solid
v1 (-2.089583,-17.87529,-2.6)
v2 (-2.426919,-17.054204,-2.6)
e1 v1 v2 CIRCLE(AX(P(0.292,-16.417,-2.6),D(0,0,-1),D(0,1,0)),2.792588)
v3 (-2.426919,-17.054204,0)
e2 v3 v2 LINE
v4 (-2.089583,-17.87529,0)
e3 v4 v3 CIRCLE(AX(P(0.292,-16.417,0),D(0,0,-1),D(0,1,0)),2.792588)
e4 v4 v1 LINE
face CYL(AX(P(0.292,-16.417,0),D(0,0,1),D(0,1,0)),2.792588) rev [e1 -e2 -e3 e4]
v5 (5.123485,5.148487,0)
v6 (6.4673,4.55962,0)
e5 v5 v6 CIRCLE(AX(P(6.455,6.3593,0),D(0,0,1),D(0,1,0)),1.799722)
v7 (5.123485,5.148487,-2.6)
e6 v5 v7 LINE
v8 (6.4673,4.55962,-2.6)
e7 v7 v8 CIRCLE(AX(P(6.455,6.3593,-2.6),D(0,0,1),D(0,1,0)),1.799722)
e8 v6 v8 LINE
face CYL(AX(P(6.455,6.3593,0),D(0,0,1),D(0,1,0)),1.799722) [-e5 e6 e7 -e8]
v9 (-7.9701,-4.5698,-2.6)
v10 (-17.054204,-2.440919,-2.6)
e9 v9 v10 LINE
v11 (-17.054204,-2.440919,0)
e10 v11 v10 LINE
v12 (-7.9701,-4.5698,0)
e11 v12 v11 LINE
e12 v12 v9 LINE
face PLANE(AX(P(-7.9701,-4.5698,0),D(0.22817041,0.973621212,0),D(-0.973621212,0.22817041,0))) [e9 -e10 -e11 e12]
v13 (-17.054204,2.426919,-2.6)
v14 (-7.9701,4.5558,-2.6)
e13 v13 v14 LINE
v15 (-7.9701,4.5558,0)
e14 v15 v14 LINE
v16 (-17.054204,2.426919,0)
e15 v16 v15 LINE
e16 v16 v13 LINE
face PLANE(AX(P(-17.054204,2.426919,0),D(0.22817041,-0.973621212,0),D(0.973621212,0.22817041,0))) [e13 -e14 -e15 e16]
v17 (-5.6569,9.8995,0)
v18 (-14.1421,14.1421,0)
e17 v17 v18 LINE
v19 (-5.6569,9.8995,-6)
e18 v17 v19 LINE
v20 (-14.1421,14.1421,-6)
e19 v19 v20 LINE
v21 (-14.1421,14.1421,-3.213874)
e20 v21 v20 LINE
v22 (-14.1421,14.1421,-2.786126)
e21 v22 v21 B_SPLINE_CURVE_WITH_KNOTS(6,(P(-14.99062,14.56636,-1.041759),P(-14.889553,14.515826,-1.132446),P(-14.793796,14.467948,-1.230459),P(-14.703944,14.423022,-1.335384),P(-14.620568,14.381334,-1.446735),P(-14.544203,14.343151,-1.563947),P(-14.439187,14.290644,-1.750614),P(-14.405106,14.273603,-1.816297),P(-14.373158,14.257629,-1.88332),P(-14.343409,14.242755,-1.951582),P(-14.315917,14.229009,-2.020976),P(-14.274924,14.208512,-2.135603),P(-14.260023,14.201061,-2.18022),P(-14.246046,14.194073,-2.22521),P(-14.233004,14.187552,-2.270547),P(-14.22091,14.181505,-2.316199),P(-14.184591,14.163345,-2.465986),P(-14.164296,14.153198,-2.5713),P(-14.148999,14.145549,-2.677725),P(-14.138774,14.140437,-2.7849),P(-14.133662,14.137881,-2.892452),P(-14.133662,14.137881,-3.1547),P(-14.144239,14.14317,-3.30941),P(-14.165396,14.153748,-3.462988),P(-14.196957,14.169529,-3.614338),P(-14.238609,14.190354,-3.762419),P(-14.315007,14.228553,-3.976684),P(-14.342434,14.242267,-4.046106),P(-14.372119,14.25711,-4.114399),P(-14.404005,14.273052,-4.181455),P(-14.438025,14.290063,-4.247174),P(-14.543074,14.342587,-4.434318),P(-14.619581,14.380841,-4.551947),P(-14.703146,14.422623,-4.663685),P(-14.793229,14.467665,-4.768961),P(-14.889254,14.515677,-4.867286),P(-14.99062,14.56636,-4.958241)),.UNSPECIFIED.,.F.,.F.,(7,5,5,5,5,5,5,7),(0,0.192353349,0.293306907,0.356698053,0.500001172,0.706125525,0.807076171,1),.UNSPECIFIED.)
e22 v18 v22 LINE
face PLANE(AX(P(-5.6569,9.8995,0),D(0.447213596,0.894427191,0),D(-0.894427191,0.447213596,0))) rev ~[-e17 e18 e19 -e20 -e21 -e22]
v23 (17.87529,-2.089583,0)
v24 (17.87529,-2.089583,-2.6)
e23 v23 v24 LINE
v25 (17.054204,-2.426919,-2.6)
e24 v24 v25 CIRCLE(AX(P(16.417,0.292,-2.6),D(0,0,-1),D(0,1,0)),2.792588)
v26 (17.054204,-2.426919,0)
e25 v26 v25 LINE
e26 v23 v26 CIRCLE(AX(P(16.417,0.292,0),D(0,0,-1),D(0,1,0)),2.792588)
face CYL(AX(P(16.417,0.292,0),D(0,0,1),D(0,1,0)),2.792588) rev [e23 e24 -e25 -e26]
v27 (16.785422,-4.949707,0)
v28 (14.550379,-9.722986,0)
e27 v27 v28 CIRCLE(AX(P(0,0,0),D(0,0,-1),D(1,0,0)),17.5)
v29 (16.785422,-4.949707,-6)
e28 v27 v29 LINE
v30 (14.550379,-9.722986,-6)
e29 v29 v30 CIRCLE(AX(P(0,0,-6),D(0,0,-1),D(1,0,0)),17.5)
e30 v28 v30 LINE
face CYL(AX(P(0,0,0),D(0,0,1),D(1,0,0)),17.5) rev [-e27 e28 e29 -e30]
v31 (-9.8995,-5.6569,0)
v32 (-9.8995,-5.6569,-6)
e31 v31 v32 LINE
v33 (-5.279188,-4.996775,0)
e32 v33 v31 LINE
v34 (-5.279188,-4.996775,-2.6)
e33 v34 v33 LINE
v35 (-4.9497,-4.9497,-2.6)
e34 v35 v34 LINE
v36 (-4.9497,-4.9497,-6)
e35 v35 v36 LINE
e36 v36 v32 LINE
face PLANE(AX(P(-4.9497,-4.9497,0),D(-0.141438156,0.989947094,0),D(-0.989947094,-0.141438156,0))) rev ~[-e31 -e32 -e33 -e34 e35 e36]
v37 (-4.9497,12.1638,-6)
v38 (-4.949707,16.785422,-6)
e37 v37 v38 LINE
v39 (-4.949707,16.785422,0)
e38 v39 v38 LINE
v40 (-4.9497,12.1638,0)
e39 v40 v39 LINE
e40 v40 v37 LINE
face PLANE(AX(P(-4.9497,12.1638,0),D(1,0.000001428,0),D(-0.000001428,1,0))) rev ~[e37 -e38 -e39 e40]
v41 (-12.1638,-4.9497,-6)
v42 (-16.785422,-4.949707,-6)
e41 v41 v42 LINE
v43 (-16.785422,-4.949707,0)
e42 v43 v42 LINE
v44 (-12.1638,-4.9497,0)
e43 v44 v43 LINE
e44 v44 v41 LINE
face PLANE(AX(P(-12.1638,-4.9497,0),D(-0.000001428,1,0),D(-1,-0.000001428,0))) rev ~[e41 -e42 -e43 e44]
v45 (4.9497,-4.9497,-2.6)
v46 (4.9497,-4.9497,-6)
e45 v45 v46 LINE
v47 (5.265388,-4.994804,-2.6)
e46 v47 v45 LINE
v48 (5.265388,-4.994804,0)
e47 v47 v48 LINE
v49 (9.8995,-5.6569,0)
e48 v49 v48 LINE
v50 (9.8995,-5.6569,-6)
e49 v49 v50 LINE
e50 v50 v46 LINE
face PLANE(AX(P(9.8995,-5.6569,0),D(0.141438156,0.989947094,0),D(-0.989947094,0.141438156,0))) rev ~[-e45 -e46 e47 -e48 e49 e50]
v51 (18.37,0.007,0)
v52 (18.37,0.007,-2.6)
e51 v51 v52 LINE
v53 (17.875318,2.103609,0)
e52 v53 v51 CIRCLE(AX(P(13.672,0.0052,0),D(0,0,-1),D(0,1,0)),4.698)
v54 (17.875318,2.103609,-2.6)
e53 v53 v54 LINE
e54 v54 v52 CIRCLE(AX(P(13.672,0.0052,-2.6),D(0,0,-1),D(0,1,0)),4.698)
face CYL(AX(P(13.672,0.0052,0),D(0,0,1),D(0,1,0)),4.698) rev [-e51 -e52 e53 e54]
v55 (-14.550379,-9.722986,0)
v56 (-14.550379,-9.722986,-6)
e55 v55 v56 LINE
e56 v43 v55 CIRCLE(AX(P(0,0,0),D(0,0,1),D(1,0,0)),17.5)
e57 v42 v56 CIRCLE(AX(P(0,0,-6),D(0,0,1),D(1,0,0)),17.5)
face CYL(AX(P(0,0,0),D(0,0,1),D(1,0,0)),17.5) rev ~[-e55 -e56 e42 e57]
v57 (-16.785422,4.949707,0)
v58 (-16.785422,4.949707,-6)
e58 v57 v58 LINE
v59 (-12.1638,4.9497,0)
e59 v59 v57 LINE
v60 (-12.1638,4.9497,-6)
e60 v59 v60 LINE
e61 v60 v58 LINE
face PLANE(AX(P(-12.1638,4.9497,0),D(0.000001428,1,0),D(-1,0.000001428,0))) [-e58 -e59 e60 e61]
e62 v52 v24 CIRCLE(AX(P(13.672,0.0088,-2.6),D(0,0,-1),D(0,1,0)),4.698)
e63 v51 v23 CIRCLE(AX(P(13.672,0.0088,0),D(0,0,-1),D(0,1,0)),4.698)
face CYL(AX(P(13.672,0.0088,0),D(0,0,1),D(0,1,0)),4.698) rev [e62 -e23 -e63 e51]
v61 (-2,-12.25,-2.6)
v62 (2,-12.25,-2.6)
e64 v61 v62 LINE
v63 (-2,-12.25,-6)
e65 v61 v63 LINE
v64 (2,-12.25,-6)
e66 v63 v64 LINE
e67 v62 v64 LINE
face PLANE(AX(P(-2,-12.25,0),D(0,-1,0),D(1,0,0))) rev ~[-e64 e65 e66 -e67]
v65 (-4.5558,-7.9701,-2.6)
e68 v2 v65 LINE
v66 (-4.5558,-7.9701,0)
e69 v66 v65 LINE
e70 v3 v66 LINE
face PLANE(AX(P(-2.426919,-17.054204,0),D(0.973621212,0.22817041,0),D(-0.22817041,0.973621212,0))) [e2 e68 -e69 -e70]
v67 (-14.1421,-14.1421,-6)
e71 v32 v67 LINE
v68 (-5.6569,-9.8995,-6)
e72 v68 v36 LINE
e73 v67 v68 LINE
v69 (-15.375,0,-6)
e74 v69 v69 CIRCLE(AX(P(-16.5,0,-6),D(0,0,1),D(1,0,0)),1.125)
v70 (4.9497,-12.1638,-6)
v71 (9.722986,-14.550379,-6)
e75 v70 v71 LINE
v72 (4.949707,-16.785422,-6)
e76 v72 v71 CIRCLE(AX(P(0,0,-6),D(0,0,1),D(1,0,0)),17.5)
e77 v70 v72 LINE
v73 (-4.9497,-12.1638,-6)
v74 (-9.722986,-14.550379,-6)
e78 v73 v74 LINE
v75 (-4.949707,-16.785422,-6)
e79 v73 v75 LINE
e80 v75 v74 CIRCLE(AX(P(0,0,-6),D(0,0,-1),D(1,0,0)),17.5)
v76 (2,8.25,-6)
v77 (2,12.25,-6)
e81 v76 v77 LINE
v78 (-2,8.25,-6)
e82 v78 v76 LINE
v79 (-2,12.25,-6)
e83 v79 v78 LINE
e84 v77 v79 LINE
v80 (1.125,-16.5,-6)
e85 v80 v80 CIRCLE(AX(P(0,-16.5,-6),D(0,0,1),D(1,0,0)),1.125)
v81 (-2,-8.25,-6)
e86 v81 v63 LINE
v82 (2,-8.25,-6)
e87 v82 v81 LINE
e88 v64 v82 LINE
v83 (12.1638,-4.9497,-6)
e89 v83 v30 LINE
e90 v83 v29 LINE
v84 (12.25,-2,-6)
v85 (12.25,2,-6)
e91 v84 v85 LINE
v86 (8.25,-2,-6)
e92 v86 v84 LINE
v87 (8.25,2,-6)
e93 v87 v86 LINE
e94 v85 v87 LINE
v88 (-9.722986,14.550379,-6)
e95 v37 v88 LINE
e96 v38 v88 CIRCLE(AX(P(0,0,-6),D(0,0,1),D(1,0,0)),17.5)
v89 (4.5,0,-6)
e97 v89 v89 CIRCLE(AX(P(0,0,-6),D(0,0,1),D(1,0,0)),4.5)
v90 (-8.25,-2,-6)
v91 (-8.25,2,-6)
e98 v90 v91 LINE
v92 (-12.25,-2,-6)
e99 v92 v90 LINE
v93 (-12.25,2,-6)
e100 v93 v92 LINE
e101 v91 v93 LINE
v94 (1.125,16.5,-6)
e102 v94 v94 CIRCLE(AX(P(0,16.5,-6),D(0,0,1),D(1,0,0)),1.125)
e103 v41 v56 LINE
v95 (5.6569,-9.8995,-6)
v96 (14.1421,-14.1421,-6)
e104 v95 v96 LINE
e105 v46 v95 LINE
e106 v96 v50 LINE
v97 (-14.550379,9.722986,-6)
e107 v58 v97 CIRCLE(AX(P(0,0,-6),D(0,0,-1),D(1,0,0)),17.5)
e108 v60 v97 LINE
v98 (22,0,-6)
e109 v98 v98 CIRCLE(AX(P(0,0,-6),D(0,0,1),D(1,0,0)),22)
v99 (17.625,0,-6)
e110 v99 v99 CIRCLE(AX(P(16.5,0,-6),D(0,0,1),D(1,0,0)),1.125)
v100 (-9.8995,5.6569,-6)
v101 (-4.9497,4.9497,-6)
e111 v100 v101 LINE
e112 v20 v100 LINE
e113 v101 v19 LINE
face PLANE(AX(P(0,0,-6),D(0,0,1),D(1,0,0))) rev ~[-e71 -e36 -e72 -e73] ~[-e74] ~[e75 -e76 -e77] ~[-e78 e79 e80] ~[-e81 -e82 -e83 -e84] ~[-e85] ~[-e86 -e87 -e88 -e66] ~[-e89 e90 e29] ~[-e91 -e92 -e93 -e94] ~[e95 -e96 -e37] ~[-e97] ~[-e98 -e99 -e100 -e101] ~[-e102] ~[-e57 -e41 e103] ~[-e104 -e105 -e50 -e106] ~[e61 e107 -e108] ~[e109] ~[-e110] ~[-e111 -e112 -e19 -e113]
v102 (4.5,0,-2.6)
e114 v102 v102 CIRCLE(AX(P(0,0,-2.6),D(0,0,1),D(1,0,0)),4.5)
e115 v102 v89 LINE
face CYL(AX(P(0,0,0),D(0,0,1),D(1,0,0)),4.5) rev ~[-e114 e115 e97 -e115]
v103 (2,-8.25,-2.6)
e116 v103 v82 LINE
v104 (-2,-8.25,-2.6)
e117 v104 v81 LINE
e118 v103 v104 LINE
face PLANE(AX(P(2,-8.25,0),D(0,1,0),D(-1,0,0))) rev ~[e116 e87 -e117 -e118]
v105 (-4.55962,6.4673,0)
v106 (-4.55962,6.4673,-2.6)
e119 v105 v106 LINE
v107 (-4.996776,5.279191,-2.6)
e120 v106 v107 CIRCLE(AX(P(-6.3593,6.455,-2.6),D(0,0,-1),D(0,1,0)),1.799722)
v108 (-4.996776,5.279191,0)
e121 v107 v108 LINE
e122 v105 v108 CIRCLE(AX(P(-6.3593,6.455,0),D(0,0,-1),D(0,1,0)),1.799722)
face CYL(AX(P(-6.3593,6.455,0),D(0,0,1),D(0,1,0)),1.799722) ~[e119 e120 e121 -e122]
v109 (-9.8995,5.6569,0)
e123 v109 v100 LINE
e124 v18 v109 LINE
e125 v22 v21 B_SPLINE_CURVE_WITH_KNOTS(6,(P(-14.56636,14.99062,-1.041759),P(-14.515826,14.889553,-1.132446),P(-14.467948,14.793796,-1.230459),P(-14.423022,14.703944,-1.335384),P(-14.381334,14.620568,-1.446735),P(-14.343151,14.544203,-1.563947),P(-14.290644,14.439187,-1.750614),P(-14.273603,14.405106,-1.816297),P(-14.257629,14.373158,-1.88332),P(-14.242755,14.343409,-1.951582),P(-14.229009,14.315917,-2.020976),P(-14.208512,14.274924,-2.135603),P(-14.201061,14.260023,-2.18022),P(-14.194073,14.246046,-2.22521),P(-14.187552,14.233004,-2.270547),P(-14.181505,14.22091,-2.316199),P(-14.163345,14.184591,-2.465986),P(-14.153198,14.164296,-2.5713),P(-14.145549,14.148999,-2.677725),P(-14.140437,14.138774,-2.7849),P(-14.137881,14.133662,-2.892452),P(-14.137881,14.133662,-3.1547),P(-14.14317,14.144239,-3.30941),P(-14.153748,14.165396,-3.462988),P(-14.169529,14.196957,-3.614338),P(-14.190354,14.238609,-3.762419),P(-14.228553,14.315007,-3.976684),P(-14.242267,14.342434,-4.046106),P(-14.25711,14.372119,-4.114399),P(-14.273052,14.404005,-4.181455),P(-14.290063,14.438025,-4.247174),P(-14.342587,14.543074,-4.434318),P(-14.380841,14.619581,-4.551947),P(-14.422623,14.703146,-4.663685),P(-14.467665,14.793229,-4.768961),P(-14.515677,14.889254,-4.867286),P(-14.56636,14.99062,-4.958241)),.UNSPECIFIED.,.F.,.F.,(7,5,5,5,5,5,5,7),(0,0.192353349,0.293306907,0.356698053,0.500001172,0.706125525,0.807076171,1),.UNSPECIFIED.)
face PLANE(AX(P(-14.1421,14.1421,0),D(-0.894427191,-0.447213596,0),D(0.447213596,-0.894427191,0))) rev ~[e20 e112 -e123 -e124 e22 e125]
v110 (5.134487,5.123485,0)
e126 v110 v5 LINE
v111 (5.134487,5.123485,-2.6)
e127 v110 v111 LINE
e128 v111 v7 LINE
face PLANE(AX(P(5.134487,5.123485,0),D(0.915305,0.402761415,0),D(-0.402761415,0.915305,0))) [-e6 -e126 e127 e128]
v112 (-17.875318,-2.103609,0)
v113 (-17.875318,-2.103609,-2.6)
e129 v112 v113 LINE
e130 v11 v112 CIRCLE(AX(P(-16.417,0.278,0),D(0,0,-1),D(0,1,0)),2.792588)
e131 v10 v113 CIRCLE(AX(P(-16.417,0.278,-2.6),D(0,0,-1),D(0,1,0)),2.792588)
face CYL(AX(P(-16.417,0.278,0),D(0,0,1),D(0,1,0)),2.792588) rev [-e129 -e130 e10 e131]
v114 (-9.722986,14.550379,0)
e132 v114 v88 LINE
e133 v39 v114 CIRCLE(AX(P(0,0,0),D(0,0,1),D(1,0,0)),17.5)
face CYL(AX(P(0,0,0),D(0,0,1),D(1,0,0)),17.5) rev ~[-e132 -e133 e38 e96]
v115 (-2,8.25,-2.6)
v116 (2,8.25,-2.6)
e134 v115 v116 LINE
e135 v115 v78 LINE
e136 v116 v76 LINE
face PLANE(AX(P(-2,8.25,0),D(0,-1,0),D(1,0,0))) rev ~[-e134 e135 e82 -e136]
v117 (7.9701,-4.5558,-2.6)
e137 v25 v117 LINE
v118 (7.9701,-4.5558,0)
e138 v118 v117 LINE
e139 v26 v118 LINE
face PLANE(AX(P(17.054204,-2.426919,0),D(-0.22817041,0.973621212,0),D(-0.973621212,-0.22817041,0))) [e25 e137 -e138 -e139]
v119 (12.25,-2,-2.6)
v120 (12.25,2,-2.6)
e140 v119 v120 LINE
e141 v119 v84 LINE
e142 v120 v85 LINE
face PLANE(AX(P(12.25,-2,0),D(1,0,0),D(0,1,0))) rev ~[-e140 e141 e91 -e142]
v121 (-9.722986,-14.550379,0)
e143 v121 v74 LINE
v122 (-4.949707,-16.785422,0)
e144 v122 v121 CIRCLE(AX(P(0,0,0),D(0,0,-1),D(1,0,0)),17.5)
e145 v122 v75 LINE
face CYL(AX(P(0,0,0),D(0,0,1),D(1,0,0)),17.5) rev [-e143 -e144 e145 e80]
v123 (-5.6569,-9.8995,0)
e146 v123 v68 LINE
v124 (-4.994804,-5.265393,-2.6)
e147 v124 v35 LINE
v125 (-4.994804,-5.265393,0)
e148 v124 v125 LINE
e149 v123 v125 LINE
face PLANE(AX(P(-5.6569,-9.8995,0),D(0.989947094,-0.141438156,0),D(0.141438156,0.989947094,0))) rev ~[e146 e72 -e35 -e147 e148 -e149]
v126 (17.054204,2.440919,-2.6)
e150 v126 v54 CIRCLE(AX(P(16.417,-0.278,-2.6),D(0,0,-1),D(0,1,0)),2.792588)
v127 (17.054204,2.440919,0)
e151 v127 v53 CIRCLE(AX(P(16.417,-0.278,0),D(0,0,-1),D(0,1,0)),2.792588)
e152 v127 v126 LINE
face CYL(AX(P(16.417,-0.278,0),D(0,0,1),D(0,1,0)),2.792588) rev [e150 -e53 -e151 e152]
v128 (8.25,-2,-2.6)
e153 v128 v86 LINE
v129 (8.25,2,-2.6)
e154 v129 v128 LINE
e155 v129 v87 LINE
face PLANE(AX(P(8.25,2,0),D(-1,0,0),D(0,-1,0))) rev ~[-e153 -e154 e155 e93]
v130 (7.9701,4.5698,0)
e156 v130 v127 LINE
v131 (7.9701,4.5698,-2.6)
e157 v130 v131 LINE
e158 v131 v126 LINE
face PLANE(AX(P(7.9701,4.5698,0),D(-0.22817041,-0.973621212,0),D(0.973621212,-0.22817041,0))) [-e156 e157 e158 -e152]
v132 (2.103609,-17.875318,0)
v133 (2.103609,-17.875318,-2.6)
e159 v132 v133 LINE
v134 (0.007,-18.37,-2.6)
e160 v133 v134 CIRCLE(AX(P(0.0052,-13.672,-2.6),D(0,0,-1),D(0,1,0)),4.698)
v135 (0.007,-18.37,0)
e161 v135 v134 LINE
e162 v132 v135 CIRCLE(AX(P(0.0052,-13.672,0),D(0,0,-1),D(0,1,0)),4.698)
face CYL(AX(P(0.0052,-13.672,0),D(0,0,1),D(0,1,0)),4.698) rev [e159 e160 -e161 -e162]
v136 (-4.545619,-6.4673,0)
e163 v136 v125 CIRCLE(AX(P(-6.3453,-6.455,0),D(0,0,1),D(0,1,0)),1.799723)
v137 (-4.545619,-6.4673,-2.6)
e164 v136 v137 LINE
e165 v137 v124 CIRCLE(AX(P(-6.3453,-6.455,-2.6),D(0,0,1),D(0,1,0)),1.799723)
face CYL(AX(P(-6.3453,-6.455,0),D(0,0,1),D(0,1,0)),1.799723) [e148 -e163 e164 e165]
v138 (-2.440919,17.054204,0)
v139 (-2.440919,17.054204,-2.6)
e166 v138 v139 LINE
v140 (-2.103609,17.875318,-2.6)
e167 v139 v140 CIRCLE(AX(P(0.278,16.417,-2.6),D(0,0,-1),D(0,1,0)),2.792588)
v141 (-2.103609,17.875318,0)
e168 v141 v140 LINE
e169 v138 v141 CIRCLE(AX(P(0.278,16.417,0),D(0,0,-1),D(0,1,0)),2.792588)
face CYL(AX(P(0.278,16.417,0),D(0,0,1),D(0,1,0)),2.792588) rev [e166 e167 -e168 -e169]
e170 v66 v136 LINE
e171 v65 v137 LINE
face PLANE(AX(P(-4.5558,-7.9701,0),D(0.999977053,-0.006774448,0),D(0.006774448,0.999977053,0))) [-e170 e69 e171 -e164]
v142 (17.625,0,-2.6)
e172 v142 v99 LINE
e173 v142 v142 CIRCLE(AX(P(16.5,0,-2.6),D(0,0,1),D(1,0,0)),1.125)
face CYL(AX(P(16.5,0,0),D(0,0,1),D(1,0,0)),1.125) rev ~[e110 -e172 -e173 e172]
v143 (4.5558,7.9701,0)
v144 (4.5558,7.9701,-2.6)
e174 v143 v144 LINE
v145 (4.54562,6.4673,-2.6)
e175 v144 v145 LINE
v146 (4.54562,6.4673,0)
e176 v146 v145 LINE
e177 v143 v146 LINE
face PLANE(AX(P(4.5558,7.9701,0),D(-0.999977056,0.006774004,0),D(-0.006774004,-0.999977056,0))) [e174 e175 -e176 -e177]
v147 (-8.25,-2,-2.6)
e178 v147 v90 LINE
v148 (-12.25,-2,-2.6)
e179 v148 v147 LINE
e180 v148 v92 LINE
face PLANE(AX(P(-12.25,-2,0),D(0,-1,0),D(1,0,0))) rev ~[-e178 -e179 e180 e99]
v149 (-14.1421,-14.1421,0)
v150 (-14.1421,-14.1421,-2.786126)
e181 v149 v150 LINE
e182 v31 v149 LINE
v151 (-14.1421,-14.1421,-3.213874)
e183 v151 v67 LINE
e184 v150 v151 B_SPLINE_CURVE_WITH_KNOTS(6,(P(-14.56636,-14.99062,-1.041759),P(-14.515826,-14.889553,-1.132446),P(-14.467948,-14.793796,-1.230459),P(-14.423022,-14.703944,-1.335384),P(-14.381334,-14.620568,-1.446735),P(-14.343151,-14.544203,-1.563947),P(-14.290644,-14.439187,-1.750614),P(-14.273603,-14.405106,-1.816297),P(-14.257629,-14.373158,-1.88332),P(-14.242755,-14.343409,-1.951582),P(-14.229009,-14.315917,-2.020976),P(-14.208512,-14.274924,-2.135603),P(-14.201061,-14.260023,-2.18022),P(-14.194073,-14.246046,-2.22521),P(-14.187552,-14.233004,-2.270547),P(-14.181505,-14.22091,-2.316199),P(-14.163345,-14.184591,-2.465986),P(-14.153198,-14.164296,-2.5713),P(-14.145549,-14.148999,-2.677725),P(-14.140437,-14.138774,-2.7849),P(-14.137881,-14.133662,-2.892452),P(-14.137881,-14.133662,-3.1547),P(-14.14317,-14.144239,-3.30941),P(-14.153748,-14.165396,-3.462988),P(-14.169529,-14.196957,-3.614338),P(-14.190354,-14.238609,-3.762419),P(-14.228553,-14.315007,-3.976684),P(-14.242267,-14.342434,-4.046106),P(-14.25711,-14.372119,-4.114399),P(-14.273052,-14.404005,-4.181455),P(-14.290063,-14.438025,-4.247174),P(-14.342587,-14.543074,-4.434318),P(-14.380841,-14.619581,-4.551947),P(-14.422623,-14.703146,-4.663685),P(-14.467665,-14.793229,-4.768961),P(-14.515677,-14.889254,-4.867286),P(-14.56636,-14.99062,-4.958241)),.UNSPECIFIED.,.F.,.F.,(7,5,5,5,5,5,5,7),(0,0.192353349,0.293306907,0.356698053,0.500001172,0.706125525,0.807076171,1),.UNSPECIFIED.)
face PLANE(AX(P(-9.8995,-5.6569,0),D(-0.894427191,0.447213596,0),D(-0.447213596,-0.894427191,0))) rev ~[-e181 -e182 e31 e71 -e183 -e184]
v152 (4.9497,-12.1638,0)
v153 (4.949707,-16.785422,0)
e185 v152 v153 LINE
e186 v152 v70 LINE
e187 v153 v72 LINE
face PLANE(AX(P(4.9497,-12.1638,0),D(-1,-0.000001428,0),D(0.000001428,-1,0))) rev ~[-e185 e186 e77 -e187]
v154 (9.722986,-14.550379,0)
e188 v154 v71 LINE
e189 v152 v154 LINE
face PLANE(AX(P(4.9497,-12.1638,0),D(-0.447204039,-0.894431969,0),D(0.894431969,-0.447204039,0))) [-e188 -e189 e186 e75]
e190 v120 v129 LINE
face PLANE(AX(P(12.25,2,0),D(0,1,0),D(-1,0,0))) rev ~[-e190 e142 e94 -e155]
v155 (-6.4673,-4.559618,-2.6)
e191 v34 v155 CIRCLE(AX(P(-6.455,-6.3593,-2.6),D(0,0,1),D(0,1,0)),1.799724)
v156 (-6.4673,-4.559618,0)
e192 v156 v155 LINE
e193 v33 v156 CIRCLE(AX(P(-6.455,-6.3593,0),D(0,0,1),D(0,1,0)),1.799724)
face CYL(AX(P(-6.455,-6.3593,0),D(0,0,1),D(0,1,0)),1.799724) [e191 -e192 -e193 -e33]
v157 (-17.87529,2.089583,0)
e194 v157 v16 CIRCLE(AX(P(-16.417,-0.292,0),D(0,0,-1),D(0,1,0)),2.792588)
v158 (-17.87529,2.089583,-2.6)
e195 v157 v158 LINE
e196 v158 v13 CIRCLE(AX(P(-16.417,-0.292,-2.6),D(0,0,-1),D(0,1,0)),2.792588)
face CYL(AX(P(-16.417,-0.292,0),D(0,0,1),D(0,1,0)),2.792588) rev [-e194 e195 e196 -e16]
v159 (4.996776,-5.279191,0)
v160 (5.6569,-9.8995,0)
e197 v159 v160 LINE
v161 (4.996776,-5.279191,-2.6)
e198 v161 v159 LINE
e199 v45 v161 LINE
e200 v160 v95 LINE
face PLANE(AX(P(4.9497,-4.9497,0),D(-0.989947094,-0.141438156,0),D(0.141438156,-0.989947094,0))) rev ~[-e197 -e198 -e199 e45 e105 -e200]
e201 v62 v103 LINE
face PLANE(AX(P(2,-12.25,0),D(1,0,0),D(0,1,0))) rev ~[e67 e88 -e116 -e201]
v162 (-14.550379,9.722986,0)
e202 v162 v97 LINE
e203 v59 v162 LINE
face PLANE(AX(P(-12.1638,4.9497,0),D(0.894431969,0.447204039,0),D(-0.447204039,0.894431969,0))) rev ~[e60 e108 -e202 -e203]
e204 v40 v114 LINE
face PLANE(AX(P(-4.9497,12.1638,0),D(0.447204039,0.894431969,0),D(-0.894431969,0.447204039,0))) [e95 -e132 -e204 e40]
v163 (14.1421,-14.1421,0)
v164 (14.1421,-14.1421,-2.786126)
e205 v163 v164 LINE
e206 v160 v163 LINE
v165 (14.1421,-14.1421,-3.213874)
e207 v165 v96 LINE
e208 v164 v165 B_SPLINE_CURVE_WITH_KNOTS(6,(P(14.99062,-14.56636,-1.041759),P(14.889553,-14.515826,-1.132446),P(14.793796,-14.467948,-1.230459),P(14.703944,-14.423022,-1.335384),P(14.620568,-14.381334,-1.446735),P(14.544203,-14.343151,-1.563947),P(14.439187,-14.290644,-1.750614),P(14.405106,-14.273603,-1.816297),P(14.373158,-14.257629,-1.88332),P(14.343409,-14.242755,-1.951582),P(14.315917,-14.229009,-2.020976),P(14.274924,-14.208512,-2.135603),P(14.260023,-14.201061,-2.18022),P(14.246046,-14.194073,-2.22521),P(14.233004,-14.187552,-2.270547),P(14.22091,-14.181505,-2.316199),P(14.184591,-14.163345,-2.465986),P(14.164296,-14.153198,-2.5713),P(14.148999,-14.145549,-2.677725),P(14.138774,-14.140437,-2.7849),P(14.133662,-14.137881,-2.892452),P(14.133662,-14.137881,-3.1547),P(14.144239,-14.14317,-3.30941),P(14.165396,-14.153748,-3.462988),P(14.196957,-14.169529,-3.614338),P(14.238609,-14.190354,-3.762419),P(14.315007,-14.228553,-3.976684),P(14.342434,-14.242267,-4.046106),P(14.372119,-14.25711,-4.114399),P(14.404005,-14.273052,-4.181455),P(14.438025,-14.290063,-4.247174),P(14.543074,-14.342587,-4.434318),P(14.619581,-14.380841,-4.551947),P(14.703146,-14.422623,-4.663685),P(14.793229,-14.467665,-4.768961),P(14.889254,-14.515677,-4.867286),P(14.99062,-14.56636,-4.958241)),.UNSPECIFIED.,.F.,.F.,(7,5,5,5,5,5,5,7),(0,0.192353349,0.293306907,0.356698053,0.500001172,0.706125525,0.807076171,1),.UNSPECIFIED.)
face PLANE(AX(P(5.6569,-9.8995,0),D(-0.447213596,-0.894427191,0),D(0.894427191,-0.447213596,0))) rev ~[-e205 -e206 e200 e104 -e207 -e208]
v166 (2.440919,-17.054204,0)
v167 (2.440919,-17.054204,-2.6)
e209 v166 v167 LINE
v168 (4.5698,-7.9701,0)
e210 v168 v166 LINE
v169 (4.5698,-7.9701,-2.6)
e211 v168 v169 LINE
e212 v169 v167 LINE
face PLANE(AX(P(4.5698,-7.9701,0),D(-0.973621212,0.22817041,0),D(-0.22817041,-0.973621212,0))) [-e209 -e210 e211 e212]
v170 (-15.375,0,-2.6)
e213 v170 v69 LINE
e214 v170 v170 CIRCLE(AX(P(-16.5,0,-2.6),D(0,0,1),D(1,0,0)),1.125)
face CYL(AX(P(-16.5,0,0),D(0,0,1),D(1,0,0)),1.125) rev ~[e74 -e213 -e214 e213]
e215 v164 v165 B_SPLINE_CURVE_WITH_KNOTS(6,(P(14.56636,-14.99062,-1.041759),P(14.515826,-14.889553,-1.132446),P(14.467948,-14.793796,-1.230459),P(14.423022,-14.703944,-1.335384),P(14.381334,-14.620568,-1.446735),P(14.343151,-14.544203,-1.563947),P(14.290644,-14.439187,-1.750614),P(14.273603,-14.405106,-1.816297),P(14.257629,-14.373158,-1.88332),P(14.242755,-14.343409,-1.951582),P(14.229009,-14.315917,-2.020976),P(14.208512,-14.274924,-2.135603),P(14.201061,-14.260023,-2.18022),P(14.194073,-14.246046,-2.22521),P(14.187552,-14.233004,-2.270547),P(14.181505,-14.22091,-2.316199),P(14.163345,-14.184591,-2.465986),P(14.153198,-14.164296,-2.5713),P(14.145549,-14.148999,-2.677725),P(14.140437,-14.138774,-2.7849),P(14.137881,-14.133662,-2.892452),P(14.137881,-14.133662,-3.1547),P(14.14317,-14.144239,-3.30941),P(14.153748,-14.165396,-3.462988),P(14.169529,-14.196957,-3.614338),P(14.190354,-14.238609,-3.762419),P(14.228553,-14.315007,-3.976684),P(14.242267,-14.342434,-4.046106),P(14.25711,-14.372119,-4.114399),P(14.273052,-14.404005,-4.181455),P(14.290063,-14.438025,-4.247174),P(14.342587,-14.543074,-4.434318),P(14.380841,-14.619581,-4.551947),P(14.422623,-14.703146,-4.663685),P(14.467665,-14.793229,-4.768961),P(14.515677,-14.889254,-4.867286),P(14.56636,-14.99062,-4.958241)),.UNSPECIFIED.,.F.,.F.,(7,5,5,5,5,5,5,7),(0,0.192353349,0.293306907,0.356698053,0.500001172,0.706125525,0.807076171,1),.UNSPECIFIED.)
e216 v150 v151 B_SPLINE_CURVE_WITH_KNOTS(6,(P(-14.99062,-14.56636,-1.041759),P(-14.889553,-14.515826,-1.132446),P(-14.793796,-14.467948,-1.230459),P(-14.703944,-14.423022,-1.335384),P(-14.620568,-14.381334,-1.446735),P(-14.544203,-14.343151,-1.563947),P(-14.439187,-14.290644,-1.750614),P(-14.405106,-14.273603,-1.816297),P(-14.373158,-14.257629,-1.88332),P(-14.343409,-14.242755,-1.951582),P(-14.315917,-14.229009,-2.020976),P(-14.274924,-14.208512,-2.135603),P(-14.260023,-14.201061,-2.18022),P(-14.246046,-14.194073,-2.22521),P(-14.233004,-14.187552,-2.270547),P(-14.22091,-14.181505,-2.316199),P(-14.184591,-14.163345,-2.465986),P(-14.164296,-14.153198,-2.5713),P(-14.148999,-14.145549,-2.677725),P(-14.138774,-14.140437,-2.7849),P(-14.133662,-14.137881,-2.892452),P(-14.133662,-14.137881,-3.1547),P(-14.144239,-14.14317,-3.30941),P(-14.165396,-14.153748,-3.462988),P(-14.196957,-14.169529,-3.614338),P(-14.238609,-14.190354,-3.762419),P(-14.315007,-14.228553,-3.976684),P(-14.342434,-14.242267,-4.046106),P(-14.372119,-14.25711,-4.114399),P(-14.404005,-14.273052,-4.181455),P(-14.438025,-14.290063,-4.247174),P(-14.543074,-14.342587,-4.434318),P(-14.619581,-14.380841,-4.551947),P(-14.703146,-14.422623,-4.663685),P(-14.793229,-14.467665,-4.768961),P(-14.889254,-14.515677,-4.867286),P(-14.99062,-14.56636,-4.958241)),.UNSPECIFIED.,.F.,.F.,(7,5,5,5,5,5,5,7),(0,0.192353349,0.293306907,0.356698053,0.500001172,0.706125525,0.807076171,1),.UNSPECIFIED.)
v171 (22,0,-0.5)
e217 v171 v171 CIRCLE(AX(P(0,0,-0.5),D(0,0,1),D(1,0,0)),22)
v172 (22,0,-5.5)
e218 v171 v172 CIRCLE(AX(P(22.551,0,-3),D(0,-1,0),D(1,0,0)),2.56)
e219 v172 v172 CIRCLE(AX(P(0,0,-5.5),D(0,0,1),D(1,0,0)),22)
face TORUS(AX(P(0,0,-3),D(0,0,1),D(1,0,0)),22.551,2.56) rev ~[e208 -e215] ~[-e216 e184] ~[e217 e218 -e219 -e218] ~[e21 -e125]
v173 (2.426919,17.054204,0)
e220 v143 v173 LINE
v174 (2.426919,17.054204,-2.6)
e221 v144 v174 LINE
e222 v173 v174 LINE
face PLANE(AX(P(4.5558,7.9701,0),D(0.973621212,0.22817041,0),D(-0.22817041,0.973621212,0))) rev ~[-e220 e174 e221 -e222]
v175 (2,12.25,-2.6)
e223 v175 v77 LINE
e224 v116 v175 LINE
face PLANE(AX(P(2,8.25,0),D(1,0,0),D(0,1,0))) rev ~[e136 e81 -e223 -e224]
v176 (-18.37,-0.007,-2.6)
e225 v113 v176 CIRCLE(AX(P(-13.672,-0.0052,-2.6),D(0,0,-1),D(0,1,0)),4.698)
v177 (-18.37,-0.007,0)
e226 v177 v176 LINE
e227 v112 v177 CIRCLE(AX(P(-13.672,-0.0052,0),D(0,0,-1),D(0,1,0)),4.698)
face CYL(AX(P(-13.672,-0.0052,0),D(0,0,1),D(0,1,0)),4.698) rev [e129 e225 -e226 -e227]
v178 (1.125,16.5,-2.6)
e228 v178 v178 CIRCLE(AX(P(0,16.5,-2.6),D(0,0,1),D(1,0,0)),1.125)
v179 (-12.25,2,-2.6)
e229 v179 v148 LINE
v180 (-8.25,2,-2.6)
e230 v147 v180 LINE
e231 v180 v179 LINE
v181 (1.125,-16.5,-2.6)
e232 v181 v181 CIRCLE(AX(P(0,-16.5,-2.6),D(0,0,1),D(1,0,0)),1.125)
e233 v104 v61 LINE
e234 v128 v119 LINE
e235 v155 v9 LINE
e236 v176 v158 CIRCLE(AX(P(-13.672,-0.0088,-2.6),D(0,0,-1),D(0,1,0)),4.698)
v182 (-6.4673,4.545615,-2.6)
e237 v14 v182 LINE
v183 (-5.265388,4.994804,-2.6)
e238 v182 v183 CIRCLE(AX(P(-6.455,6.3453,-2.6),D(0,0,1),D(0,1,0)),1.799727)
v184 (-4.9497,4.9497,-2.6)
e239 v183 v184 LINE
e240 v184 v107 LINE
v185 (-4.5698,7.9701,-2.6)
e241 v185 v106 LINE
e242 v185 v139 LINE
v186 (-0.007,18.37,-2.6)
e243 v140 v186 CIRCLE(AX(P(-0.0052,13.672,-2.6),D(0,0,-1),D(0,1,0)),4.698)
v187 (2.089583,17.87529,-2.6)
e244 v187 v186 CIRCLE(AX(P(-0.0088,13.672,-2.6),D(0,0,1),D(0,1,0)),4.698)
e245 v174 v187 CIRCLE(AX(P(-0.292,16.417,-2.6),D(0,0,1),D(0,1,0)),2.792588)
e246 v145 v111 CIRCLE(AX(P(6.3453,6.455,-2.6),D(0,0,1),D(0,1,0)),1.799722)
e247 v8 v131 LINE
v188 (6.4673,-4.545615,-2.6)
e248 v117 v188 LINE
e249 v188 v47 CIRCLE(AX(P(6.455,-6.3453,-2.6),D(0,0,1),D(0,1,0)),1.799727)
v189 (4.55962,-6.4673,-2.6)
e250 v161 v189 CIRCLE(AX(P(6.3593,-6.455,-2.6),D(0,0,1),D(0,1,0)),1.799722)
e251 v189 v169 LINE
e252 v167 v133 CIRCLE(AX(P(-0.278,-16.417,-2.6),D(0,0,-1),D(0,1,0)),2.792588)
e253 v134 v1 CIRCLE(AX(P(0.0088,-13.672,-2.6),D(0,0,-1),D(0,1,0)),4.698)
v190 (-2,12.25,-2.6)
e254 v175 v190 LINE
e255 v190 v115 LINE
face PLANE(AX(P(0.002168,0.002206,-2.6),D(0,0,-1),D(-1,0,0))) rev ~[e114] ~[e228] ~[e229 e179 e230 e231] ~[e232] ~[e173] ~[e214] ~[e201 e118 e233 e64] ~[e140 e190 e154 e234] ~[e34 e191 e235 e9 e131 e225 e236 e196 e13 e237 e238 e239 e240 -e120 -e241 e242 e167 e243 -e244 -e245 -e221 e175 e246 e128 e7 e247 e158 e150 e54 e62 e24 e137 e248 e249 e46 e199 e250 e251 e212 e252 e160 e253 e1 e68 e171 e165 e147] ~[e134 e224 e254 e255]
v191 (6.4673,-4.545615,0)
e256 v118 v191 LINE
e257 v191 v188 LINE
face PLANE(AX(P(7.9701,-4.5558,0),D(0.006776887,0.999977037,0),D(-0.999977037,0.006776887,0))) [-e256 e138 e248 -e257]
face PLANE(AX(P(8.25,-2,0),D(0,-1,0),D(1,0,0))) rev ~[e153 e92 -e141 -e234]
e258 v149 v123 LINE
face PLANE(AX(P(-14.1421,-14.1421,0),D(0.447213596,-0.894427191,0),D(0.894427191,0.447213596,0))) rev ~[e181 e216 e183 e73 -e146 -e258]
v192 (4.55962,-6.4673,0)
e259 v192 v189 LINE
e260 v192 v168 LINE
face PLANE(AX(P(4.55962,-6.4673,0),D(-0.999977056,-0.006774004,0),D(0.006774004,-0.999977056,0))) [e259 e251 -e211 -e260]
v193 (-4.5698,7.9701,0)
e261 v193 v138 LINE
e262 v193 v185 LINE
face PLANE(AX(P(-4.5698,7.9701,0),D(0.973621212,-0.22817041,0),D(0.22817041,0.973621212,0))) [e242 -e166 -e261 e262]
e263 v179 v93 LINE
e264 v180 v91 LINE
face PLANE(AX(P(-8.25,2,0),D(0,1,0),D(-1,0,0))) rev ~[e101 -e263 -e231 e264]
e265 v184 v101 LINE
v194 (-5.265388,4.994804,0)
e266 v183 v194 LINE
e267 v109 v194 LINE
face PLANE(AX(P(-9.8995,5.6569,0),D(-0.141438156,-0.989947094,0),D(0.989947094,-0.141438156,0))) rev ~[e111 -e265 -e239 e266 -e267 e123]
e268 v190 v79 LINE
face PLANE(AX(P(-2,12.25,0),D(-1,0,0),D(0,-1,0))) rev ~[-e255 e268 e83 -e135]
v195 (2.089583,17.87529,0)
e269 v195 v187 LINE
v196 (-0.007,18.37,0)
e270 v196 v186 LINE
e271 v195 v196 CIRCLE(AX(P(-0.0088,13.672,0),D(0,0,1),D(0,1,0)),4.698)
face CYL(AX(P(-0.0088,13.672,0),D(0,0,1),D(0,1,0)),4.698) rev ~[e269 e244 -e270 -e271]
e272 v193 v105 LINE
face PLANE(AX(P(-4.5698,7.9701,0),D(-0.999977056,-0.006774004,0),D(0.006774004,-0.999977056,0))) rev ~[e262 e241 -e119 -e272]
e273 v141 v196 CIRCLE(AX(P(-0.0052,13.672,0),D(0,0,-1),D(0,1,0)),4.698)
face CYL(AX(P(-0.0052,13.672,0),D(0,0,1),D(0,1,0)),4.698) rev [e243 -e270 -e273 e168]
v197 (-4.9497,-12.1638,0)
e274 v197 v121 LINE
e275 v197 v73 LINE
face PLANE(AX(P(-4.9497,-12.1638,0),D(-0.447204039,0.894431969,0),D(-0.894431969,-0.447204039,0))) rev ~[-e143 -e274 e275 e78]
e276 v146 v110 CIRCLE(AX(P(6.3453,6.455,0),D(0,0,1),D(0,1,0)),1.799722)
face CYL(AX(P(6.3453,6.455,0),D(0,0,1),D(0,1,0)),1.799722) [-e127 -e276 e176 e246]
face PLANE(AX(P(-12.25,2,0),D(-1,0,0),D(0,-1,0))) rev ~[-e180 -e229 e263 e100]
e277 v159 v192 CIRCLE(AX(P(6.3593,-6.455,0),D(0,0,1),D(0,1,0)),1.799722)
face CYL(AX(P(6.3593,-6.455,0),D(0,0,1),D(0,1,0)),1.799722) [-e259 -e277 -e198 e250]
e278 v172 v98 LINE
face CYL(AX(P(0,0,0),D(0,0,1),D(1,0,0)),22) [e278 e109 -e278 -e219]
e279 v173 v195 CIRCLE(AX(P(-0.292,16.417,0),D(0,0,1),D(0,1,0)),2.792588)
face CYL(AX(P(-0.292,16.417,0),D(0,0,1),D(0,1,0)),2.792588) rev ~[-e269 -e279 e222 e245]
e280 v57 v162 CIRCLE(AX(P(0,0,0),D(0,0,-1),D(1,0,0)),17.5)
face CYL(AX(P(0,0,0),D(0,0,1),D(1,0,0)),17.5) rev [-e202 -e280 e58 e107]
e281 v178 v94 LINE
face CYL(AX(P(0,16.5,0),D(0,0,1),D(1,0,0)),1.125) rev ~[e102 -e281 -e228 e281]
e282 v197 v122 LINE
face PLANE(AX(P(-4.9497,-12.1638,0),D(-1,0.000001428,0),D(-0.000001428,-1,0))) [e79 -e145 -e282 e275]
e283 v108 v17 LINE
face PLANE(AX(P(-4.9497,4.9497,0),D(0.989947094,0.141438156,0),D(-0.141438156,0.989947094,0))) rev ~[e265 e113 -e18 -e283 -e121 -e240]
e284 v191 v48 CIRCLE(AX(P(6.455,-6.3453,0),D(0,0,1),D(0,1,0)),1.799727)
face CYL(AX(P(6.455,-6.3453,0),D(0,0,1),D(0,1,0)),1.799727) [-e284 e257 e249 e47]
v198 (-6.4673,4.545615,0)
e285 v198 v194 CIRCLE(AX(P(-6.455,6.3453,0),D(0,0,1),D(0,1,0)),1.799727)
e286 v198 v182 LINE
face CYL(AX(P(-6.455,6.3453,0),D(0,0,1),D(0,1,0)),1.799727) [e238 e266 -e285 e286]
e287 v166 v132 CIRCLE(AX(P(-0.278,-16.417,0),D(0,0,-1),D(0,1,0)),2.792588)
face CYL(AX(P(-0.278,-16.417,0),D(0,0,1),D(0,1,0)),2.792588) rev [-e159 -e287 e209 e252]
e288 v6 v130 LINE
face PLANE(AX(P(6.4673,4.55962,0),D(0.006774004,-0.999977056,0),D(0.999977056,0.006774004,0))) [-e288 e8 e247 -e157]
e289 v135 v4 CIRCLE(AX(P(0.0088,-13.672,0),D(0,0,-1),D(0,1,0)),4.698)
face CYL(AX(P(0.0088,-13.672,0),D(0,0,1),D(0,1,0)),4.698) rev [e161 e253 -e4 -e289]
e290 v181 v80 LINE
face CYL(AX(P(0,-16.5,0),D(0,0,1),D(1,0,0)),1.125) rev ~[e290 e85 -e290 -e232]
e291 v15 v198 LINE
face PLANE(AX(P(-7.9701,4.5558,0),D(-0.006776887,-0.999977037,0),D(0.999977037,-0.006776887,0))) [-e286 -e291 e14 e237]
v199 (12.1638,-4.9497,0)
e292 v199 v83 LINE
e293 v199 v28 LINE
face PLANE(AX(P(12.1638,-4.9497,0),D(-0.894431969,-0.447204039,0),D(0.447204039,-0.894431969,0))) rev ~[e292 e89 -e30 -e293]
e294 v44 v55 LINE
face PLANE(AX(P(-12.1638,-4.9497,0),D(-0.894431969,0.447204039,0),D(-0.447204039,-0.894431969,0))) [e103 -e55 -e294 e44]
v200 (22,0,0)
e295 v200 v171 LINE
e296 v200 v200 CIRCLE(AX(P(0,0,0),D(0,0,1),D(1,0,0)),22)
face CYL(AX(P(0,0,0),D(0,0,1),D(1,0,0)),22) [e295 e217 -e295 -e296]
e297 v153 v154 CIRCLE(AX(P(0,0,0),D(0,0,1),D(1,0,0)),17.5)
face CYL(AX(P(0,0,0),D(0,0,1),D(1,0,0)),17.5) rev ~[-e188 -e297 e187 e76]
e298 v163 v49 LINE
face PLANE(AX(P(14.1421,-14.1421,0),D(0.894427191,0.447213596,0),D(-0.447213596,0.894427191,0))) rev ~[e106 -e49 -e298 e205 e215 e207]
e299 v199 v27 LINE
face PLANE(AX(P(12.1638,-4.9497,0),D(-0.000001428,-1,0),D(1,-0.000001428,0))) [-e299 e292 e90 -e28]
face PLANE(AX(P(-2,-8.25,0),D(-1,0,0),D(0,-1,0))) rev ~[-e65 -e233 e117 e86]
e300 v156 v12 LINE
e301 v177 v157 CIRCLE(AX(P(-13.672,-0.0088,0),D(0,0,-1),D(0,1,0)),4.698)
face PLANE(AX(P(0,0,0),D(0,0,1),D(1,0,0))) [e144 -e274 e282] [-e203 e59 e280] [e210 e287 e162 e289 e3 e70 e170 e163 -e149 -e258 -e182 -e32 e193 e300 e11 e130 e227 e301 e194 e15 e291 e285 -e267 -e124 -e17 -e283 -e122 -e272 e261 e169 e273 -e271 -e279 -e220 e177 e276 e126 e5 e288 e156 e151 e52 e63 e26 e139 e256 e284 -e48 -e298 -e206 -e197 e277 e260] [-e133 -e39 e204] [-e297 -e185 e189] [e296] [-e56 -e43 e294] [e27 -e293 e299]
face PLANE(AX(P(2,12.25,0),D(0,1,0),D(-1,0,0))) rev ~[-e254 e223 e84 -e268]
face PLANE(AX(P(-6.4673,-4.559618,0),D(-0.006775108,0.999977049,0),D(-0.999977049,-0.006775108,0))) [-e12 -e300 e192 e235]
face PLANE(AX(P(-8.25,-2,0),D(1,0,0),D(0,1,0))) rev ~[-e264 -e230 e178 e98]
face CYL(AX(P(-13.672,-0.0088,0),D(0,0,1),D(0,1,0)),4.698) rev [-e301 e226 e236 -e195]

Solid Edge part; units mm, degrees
sketch "Sketch1" plane through (0, 0, 0) normal (0, 0, 1) x (1, 0, 0)
  circle A0 centre (0, 0) radius 22
extrude "Protrusion1" add sketch "Sketch1" against normal blind 6
sketch "Sketch2" plane through (0, 0, 0) normal (0, -1, 0) x (1, 0, 0)
  line L0 (22, -0.5) -> (22, -5.5)
  arc A0 (22, -0.5) -> (22, -5.5) centre (22.551, -3) ccw
revolve "RevolvedCutout1" cut sketch "Sketch2" angle 360 about axis through (0, 0, 0) along (0, 0, 1)
sketch "Sketch3" plane through (0, 0, 0) normal (0, 0, 1) x (1, 0, 0)
  circle A0 centre (0, 16.5) radius 1.125
  circle A1 centre (0, 10.25) radius 1.125
  circle A2 centre (10.25, 0) radius 1.125
  circle A3 centre (16.5, 0) radius 1.125
  circle A4 centre (0, -10.25) radius 1.125
  circle A5 centre (0, -16.5) radius 1.125
  circle A6 centre (-10.25, 0) radius 1.125
  circle A7 centre (-16.5, 0) radius 1.125
  dimension "D1" = 2.25
  dimension "D2" = 2.25
  dimension "D3" = 10.25
  dimension "D4" = 10.25
  dimension "D5" = 10.25
  dimension "D6" = 10.25
  dimension "D7" = 2.25
  dimension "D8" = 6.25
  dimension "D9" = 6.25
  dimension "D10" = 6.25
  dimension "D11" = 6.25
  dimension "D12" = 2.25
  dimension "D13" = 2.25
extrude "Cutout1" cut sketch "Sketch3" against normal up to vertex (6 mm away)
sketch "Sketch4" plane through (0, 0, 0) normal (0, 0, 1) x (1, 0, 0)
  circle A0 centre (0, 0) radius 4.5
  line L0 (-2, 8.25) -> (2, 8.25)
  line L1 (2, 8.25) -> (2, 12.25)
  line L2 (2, 12.25) -> (-2, 12.25)
  line L3 (-2, 12.25) -> (-2, 8.25)
  line L4 (8.25, -2) -> (12.25, -2)
  line L5 (12.25, -2) -> (12.25, 2)
  line L6 (12.25, 2) -> (8.25, 2)
  line L7 (8.25, 2) -> (8.25, -2)
  line L8 (-12.25, -2) -> (-8.25, -2)
  line L9 (-8.25, -2) -> (-8.25, 2)
  line L10 (-8.25, 2) -> (-12.25, 2)
  line L11 (-12.25, 2) -> (-12.25, -2)
  line L12 (-2, -12.25) -> (2, -12.25)
  line L13 (2, -12.25) -> (2, -8.25)
  line L14 (2, -8.25) -> (-2, -8.25)
  line L15 (-2, -8.25) -> (-2, -12.25)
  dimension "D1" = 9
  dimension "D2" = 4
  dimension "D3" = 4
  dimension "D4" = 4
  dimension "D5" = 4
  dimension "D6" = 4
  dimension "D7" = 4
  dimension "D8" = 4
  dimension "D9" = 4
extrude "Cutout2" cut sketch "Sketch4" against normal up to vertex (6 mm away)
sketch "Sketch5" plane through (0, 0, 0) normal (0, 0, 1) x (1, 0, 0)
  line L0 (-5.6569, 9.8995) -> (-14.1421, 14.1421)
  line L1 (-14.1421, 14.1421) -> (-9.8995, 5.6569)
  line L2 (-9.8995, 5.6569) -> (-4.9497, 4.9497)
  line L3 (-4.9497, 4.9497) -> (-5.6569, 9.8995)
  line L4 (-4.9497, 12.1638) -> (-9.723, 14.5504)
  arc A0 (-4.9497, 16.7854) -> (-9.723, 14.5504) centre (0, 0) ccw
  line L5 (-4.9497, 12.1638) -> (-4.9497, 16.7854)
  line L6 (-12.1638, 4.9497) -> (-14.5504, 9.723)
  arc A1 (-16.7854, 4.9497) -> (-14.5504, 9.723) centre (0, 0) cw
  line L7 (-12.1638, 4.9497) -> (-16.7854, 4.9497)
  line L8 (-12.1638, -4.9497) -> (-14.5504, -9.723)
  arc A2 (-16.7854, -4.9497) -> (-14.5504, -9.723) centre (0, 0) ccw
  line L9 (-12.1638, -4.9497) -> (-16.7854, -4.9497)
  line L10 (-4.9497, -4.9497) -> (-9.8995, -5.6569)
  line L11 (-9.8995, -5.6569) -> (-14.1421, -14.1421)
  line L12 (-14.1421, -14.1421) -> (-5.6569, -9.8995)
  line L13 (-5.6569, -9.8995) -> (-4.9497, -4.9497)
  line L14 (-4.9497, -12.1638) -> (-9.723, -14.5504)
  arc A3 (-4.9497, -16.7854) -> (-9.723, -14.5504) centre (0, 0) cw
  line L15 (-4.9497, -12.1638) -> (-4.9497, -16.7854)
  line L16 (4.9497, -12.1638) -> (9.723, -14.5504)
  arc A4 (4.9497, -16.7854) -> (9.723, -14.5504) centre (0, 0) ccw
  line L17 (4.9497, -12.1638) -> (4.9497, -16.7854)
  line L18 (5.6569, -9.8995) -> (14.1421, -14.1421)
  line L19 (14.1421, -14.1421) -> (9.8995, -5.6569)
  line L20 (9.8995, -5.6569) -> (4.9497, -4.9497)
  line L21 (4.9497, -4.9497) -> (5.6569, -9.8995)
  line L22 (12.1638, -4.9497) -> (14.5504, -9.723)
  arc A5 (16.7854, -4.9497) -> (14.5504, -9.723) centre (0, 0) cw
  line L23 (12.1638, -4.9497) -> (16.7854, -4.9497)
extrude "Cutout3" cut sketch "Sketch5" against normal up to vertex (6 mm away)
sketch "Sketch6" plane through (0, 0, 0) normal (0, 0, 1) x (0, 1, 0)
  arc A0 (-4.5456, -6.4673) -> (-5.1225, -5.1345) centre (-6.3453, -6.455) ccw
  line L0 (-4.5558, -7.9701) -> (-4.5456, -6.4673)
  line L1 (-2.4269, -17.0542) -> (-4.5558, -7.9701)
  arc A1 (-2.0896, -17.8753) -> (-2.4269, -17.0542) centre (0.292, -16.417) cw
  arc A2 (0.007, -18.37) -> (-2.0896, -17.8753) centre (0.0088, -13.672) cw
  arc A3 (2.1036, -17.8753) -> (0.007, -18.37) centre (0.0052, -13.672) cw
  arc A4 (2.4409, -17.0542) -> (2.1036, -17.8753) centre (-0.278, -16.417) cw
  line L2 (4.5698, -7.9701) -> (2.4409, -17.0542)
  line L3 (4.5596, -6.4673) -> (4.5698, -7.9701)
  arc A5 (5.1485, -5.1235) -> (4.5596, -6.4673) centre (6.3593, -6.455) ccw
  line L4 (5.1235, -5.1345) -> (5.1485, -5.1235)
  arc A6 (6.4673, -4.5456) -> (5.1235, -5.1345) centre (6.455, -6.3453) ccw
  line L5 (7.9701, -4.5558) -> (6.4673, -4.5456)
  line L6 (7.9701, -4.5558) -> (17.0542, -2.4269)
  arc A7 (17.0542, -2.4269) -> (17.8753, -2.0896) centre (16.417, 0.292) ccw
  arc A8 (17.8753, -2.0896) -> (18.37, 0.007) centre (13.672, 0.0088) ccw
  arc A9 (17.8753, 2.1036) -> (18.37, 0.007) centre (13.672, 0.0052) cw
  arc A10 (17.0542, 2.4409) -> (17.8753, 2.1036) centre (16.417, -0.278) cw
  line L7 (7.9701, 4.5698) -> (17.0542, 2.4409)
  line L8 (7.9701, 4.5698) -> (6.4673, 4.5596)
  arc A11 (6.4673, 4.5596) -> (5.1235, 5.1485) centre (6.455, 6.3593) cw
  line L9 (5.1225, 5.1345) -> (5.1235, 5.1485)
  arc A12 (4.5456, 6.4673) -> (5.1225, 5.1345) centre (6.3453, 6.455) ccw
  line L10 (4.5558, 7.9701) -> (4.5456, 6.4673)
  line L11 (2.4269, 17.0542) -> (4.5558, 7.9701)
  arc A13 (2.0896, 17.8753) -> (2.4269, 17.0542) centre (-0.292, 16.417) cw
  arc A14 (-0.007, 18.37) -> (2.0896, 17.8753) centre (-0.0088, 13.672) cw
  arc A15 (-2.1036, 17.8753) -> (-0.007, 18.37) centre (-0.0052, 13.672) cw
  arc A16 (-2.4409, 17.0542) -> (-2.1036, 17.8753) centre (0.278, 16.417) cw
  line L12 (-4.5698, 7.9701) -> (-2.4409, 17.0542)
  line L13 (-4.5596, 6.4673) -> (-4.5698, 7.9701)
  arc A17 (-5.0521, 5.218) -> (-4.5596, 6.4673) centre (-6.3593, 6.455) ccw
  arc A18 (-6.4673, 4.5456) -> (-5.0521, 5.218) centre (-6.455, 6.3453) ccw
  line L14 (-7.9701, 4.5558) -> (-6.4673, 4.5456)
  line L15 (-17.0542, 2.4269) -> (-7.9701, 4.5558)
  arc A19 (-17.8753, 2.0896) -> (-17.0542, 2.4269) centre (-16.417, -0.292) cw
  arc A20 (-18.37, -0.007) -> (-17.8753, 2.0896) centre (-13.672, -0.0088) cw
  arc A21 (-17.8753, -2.1036) -> (-18.37, -0.007) centre (-13.672, -0.0052) cw
  arc A22 (-17.0542, -2.4409) -> (-17.8753, -2.1036) centre (-16.417, 0.278) cw
  line L16 (-7.9701, -4.5698) -> (-17.0542, -2.4409)
  line L17 (-6.4673, -4.5596) -> (-7.9701, -4.5698)
  arc A23 (-5.1235, -5.1485) -> (-6.4673, -4.5596) centre (-6.455, -6.3593) ccw
  line L18 (-5.1235, -5.1485) -> (-5.1235, -5.1345)
extrude "ExtrudedCutout_4" cut sketch "Sketch6" against normal blind 2.6
